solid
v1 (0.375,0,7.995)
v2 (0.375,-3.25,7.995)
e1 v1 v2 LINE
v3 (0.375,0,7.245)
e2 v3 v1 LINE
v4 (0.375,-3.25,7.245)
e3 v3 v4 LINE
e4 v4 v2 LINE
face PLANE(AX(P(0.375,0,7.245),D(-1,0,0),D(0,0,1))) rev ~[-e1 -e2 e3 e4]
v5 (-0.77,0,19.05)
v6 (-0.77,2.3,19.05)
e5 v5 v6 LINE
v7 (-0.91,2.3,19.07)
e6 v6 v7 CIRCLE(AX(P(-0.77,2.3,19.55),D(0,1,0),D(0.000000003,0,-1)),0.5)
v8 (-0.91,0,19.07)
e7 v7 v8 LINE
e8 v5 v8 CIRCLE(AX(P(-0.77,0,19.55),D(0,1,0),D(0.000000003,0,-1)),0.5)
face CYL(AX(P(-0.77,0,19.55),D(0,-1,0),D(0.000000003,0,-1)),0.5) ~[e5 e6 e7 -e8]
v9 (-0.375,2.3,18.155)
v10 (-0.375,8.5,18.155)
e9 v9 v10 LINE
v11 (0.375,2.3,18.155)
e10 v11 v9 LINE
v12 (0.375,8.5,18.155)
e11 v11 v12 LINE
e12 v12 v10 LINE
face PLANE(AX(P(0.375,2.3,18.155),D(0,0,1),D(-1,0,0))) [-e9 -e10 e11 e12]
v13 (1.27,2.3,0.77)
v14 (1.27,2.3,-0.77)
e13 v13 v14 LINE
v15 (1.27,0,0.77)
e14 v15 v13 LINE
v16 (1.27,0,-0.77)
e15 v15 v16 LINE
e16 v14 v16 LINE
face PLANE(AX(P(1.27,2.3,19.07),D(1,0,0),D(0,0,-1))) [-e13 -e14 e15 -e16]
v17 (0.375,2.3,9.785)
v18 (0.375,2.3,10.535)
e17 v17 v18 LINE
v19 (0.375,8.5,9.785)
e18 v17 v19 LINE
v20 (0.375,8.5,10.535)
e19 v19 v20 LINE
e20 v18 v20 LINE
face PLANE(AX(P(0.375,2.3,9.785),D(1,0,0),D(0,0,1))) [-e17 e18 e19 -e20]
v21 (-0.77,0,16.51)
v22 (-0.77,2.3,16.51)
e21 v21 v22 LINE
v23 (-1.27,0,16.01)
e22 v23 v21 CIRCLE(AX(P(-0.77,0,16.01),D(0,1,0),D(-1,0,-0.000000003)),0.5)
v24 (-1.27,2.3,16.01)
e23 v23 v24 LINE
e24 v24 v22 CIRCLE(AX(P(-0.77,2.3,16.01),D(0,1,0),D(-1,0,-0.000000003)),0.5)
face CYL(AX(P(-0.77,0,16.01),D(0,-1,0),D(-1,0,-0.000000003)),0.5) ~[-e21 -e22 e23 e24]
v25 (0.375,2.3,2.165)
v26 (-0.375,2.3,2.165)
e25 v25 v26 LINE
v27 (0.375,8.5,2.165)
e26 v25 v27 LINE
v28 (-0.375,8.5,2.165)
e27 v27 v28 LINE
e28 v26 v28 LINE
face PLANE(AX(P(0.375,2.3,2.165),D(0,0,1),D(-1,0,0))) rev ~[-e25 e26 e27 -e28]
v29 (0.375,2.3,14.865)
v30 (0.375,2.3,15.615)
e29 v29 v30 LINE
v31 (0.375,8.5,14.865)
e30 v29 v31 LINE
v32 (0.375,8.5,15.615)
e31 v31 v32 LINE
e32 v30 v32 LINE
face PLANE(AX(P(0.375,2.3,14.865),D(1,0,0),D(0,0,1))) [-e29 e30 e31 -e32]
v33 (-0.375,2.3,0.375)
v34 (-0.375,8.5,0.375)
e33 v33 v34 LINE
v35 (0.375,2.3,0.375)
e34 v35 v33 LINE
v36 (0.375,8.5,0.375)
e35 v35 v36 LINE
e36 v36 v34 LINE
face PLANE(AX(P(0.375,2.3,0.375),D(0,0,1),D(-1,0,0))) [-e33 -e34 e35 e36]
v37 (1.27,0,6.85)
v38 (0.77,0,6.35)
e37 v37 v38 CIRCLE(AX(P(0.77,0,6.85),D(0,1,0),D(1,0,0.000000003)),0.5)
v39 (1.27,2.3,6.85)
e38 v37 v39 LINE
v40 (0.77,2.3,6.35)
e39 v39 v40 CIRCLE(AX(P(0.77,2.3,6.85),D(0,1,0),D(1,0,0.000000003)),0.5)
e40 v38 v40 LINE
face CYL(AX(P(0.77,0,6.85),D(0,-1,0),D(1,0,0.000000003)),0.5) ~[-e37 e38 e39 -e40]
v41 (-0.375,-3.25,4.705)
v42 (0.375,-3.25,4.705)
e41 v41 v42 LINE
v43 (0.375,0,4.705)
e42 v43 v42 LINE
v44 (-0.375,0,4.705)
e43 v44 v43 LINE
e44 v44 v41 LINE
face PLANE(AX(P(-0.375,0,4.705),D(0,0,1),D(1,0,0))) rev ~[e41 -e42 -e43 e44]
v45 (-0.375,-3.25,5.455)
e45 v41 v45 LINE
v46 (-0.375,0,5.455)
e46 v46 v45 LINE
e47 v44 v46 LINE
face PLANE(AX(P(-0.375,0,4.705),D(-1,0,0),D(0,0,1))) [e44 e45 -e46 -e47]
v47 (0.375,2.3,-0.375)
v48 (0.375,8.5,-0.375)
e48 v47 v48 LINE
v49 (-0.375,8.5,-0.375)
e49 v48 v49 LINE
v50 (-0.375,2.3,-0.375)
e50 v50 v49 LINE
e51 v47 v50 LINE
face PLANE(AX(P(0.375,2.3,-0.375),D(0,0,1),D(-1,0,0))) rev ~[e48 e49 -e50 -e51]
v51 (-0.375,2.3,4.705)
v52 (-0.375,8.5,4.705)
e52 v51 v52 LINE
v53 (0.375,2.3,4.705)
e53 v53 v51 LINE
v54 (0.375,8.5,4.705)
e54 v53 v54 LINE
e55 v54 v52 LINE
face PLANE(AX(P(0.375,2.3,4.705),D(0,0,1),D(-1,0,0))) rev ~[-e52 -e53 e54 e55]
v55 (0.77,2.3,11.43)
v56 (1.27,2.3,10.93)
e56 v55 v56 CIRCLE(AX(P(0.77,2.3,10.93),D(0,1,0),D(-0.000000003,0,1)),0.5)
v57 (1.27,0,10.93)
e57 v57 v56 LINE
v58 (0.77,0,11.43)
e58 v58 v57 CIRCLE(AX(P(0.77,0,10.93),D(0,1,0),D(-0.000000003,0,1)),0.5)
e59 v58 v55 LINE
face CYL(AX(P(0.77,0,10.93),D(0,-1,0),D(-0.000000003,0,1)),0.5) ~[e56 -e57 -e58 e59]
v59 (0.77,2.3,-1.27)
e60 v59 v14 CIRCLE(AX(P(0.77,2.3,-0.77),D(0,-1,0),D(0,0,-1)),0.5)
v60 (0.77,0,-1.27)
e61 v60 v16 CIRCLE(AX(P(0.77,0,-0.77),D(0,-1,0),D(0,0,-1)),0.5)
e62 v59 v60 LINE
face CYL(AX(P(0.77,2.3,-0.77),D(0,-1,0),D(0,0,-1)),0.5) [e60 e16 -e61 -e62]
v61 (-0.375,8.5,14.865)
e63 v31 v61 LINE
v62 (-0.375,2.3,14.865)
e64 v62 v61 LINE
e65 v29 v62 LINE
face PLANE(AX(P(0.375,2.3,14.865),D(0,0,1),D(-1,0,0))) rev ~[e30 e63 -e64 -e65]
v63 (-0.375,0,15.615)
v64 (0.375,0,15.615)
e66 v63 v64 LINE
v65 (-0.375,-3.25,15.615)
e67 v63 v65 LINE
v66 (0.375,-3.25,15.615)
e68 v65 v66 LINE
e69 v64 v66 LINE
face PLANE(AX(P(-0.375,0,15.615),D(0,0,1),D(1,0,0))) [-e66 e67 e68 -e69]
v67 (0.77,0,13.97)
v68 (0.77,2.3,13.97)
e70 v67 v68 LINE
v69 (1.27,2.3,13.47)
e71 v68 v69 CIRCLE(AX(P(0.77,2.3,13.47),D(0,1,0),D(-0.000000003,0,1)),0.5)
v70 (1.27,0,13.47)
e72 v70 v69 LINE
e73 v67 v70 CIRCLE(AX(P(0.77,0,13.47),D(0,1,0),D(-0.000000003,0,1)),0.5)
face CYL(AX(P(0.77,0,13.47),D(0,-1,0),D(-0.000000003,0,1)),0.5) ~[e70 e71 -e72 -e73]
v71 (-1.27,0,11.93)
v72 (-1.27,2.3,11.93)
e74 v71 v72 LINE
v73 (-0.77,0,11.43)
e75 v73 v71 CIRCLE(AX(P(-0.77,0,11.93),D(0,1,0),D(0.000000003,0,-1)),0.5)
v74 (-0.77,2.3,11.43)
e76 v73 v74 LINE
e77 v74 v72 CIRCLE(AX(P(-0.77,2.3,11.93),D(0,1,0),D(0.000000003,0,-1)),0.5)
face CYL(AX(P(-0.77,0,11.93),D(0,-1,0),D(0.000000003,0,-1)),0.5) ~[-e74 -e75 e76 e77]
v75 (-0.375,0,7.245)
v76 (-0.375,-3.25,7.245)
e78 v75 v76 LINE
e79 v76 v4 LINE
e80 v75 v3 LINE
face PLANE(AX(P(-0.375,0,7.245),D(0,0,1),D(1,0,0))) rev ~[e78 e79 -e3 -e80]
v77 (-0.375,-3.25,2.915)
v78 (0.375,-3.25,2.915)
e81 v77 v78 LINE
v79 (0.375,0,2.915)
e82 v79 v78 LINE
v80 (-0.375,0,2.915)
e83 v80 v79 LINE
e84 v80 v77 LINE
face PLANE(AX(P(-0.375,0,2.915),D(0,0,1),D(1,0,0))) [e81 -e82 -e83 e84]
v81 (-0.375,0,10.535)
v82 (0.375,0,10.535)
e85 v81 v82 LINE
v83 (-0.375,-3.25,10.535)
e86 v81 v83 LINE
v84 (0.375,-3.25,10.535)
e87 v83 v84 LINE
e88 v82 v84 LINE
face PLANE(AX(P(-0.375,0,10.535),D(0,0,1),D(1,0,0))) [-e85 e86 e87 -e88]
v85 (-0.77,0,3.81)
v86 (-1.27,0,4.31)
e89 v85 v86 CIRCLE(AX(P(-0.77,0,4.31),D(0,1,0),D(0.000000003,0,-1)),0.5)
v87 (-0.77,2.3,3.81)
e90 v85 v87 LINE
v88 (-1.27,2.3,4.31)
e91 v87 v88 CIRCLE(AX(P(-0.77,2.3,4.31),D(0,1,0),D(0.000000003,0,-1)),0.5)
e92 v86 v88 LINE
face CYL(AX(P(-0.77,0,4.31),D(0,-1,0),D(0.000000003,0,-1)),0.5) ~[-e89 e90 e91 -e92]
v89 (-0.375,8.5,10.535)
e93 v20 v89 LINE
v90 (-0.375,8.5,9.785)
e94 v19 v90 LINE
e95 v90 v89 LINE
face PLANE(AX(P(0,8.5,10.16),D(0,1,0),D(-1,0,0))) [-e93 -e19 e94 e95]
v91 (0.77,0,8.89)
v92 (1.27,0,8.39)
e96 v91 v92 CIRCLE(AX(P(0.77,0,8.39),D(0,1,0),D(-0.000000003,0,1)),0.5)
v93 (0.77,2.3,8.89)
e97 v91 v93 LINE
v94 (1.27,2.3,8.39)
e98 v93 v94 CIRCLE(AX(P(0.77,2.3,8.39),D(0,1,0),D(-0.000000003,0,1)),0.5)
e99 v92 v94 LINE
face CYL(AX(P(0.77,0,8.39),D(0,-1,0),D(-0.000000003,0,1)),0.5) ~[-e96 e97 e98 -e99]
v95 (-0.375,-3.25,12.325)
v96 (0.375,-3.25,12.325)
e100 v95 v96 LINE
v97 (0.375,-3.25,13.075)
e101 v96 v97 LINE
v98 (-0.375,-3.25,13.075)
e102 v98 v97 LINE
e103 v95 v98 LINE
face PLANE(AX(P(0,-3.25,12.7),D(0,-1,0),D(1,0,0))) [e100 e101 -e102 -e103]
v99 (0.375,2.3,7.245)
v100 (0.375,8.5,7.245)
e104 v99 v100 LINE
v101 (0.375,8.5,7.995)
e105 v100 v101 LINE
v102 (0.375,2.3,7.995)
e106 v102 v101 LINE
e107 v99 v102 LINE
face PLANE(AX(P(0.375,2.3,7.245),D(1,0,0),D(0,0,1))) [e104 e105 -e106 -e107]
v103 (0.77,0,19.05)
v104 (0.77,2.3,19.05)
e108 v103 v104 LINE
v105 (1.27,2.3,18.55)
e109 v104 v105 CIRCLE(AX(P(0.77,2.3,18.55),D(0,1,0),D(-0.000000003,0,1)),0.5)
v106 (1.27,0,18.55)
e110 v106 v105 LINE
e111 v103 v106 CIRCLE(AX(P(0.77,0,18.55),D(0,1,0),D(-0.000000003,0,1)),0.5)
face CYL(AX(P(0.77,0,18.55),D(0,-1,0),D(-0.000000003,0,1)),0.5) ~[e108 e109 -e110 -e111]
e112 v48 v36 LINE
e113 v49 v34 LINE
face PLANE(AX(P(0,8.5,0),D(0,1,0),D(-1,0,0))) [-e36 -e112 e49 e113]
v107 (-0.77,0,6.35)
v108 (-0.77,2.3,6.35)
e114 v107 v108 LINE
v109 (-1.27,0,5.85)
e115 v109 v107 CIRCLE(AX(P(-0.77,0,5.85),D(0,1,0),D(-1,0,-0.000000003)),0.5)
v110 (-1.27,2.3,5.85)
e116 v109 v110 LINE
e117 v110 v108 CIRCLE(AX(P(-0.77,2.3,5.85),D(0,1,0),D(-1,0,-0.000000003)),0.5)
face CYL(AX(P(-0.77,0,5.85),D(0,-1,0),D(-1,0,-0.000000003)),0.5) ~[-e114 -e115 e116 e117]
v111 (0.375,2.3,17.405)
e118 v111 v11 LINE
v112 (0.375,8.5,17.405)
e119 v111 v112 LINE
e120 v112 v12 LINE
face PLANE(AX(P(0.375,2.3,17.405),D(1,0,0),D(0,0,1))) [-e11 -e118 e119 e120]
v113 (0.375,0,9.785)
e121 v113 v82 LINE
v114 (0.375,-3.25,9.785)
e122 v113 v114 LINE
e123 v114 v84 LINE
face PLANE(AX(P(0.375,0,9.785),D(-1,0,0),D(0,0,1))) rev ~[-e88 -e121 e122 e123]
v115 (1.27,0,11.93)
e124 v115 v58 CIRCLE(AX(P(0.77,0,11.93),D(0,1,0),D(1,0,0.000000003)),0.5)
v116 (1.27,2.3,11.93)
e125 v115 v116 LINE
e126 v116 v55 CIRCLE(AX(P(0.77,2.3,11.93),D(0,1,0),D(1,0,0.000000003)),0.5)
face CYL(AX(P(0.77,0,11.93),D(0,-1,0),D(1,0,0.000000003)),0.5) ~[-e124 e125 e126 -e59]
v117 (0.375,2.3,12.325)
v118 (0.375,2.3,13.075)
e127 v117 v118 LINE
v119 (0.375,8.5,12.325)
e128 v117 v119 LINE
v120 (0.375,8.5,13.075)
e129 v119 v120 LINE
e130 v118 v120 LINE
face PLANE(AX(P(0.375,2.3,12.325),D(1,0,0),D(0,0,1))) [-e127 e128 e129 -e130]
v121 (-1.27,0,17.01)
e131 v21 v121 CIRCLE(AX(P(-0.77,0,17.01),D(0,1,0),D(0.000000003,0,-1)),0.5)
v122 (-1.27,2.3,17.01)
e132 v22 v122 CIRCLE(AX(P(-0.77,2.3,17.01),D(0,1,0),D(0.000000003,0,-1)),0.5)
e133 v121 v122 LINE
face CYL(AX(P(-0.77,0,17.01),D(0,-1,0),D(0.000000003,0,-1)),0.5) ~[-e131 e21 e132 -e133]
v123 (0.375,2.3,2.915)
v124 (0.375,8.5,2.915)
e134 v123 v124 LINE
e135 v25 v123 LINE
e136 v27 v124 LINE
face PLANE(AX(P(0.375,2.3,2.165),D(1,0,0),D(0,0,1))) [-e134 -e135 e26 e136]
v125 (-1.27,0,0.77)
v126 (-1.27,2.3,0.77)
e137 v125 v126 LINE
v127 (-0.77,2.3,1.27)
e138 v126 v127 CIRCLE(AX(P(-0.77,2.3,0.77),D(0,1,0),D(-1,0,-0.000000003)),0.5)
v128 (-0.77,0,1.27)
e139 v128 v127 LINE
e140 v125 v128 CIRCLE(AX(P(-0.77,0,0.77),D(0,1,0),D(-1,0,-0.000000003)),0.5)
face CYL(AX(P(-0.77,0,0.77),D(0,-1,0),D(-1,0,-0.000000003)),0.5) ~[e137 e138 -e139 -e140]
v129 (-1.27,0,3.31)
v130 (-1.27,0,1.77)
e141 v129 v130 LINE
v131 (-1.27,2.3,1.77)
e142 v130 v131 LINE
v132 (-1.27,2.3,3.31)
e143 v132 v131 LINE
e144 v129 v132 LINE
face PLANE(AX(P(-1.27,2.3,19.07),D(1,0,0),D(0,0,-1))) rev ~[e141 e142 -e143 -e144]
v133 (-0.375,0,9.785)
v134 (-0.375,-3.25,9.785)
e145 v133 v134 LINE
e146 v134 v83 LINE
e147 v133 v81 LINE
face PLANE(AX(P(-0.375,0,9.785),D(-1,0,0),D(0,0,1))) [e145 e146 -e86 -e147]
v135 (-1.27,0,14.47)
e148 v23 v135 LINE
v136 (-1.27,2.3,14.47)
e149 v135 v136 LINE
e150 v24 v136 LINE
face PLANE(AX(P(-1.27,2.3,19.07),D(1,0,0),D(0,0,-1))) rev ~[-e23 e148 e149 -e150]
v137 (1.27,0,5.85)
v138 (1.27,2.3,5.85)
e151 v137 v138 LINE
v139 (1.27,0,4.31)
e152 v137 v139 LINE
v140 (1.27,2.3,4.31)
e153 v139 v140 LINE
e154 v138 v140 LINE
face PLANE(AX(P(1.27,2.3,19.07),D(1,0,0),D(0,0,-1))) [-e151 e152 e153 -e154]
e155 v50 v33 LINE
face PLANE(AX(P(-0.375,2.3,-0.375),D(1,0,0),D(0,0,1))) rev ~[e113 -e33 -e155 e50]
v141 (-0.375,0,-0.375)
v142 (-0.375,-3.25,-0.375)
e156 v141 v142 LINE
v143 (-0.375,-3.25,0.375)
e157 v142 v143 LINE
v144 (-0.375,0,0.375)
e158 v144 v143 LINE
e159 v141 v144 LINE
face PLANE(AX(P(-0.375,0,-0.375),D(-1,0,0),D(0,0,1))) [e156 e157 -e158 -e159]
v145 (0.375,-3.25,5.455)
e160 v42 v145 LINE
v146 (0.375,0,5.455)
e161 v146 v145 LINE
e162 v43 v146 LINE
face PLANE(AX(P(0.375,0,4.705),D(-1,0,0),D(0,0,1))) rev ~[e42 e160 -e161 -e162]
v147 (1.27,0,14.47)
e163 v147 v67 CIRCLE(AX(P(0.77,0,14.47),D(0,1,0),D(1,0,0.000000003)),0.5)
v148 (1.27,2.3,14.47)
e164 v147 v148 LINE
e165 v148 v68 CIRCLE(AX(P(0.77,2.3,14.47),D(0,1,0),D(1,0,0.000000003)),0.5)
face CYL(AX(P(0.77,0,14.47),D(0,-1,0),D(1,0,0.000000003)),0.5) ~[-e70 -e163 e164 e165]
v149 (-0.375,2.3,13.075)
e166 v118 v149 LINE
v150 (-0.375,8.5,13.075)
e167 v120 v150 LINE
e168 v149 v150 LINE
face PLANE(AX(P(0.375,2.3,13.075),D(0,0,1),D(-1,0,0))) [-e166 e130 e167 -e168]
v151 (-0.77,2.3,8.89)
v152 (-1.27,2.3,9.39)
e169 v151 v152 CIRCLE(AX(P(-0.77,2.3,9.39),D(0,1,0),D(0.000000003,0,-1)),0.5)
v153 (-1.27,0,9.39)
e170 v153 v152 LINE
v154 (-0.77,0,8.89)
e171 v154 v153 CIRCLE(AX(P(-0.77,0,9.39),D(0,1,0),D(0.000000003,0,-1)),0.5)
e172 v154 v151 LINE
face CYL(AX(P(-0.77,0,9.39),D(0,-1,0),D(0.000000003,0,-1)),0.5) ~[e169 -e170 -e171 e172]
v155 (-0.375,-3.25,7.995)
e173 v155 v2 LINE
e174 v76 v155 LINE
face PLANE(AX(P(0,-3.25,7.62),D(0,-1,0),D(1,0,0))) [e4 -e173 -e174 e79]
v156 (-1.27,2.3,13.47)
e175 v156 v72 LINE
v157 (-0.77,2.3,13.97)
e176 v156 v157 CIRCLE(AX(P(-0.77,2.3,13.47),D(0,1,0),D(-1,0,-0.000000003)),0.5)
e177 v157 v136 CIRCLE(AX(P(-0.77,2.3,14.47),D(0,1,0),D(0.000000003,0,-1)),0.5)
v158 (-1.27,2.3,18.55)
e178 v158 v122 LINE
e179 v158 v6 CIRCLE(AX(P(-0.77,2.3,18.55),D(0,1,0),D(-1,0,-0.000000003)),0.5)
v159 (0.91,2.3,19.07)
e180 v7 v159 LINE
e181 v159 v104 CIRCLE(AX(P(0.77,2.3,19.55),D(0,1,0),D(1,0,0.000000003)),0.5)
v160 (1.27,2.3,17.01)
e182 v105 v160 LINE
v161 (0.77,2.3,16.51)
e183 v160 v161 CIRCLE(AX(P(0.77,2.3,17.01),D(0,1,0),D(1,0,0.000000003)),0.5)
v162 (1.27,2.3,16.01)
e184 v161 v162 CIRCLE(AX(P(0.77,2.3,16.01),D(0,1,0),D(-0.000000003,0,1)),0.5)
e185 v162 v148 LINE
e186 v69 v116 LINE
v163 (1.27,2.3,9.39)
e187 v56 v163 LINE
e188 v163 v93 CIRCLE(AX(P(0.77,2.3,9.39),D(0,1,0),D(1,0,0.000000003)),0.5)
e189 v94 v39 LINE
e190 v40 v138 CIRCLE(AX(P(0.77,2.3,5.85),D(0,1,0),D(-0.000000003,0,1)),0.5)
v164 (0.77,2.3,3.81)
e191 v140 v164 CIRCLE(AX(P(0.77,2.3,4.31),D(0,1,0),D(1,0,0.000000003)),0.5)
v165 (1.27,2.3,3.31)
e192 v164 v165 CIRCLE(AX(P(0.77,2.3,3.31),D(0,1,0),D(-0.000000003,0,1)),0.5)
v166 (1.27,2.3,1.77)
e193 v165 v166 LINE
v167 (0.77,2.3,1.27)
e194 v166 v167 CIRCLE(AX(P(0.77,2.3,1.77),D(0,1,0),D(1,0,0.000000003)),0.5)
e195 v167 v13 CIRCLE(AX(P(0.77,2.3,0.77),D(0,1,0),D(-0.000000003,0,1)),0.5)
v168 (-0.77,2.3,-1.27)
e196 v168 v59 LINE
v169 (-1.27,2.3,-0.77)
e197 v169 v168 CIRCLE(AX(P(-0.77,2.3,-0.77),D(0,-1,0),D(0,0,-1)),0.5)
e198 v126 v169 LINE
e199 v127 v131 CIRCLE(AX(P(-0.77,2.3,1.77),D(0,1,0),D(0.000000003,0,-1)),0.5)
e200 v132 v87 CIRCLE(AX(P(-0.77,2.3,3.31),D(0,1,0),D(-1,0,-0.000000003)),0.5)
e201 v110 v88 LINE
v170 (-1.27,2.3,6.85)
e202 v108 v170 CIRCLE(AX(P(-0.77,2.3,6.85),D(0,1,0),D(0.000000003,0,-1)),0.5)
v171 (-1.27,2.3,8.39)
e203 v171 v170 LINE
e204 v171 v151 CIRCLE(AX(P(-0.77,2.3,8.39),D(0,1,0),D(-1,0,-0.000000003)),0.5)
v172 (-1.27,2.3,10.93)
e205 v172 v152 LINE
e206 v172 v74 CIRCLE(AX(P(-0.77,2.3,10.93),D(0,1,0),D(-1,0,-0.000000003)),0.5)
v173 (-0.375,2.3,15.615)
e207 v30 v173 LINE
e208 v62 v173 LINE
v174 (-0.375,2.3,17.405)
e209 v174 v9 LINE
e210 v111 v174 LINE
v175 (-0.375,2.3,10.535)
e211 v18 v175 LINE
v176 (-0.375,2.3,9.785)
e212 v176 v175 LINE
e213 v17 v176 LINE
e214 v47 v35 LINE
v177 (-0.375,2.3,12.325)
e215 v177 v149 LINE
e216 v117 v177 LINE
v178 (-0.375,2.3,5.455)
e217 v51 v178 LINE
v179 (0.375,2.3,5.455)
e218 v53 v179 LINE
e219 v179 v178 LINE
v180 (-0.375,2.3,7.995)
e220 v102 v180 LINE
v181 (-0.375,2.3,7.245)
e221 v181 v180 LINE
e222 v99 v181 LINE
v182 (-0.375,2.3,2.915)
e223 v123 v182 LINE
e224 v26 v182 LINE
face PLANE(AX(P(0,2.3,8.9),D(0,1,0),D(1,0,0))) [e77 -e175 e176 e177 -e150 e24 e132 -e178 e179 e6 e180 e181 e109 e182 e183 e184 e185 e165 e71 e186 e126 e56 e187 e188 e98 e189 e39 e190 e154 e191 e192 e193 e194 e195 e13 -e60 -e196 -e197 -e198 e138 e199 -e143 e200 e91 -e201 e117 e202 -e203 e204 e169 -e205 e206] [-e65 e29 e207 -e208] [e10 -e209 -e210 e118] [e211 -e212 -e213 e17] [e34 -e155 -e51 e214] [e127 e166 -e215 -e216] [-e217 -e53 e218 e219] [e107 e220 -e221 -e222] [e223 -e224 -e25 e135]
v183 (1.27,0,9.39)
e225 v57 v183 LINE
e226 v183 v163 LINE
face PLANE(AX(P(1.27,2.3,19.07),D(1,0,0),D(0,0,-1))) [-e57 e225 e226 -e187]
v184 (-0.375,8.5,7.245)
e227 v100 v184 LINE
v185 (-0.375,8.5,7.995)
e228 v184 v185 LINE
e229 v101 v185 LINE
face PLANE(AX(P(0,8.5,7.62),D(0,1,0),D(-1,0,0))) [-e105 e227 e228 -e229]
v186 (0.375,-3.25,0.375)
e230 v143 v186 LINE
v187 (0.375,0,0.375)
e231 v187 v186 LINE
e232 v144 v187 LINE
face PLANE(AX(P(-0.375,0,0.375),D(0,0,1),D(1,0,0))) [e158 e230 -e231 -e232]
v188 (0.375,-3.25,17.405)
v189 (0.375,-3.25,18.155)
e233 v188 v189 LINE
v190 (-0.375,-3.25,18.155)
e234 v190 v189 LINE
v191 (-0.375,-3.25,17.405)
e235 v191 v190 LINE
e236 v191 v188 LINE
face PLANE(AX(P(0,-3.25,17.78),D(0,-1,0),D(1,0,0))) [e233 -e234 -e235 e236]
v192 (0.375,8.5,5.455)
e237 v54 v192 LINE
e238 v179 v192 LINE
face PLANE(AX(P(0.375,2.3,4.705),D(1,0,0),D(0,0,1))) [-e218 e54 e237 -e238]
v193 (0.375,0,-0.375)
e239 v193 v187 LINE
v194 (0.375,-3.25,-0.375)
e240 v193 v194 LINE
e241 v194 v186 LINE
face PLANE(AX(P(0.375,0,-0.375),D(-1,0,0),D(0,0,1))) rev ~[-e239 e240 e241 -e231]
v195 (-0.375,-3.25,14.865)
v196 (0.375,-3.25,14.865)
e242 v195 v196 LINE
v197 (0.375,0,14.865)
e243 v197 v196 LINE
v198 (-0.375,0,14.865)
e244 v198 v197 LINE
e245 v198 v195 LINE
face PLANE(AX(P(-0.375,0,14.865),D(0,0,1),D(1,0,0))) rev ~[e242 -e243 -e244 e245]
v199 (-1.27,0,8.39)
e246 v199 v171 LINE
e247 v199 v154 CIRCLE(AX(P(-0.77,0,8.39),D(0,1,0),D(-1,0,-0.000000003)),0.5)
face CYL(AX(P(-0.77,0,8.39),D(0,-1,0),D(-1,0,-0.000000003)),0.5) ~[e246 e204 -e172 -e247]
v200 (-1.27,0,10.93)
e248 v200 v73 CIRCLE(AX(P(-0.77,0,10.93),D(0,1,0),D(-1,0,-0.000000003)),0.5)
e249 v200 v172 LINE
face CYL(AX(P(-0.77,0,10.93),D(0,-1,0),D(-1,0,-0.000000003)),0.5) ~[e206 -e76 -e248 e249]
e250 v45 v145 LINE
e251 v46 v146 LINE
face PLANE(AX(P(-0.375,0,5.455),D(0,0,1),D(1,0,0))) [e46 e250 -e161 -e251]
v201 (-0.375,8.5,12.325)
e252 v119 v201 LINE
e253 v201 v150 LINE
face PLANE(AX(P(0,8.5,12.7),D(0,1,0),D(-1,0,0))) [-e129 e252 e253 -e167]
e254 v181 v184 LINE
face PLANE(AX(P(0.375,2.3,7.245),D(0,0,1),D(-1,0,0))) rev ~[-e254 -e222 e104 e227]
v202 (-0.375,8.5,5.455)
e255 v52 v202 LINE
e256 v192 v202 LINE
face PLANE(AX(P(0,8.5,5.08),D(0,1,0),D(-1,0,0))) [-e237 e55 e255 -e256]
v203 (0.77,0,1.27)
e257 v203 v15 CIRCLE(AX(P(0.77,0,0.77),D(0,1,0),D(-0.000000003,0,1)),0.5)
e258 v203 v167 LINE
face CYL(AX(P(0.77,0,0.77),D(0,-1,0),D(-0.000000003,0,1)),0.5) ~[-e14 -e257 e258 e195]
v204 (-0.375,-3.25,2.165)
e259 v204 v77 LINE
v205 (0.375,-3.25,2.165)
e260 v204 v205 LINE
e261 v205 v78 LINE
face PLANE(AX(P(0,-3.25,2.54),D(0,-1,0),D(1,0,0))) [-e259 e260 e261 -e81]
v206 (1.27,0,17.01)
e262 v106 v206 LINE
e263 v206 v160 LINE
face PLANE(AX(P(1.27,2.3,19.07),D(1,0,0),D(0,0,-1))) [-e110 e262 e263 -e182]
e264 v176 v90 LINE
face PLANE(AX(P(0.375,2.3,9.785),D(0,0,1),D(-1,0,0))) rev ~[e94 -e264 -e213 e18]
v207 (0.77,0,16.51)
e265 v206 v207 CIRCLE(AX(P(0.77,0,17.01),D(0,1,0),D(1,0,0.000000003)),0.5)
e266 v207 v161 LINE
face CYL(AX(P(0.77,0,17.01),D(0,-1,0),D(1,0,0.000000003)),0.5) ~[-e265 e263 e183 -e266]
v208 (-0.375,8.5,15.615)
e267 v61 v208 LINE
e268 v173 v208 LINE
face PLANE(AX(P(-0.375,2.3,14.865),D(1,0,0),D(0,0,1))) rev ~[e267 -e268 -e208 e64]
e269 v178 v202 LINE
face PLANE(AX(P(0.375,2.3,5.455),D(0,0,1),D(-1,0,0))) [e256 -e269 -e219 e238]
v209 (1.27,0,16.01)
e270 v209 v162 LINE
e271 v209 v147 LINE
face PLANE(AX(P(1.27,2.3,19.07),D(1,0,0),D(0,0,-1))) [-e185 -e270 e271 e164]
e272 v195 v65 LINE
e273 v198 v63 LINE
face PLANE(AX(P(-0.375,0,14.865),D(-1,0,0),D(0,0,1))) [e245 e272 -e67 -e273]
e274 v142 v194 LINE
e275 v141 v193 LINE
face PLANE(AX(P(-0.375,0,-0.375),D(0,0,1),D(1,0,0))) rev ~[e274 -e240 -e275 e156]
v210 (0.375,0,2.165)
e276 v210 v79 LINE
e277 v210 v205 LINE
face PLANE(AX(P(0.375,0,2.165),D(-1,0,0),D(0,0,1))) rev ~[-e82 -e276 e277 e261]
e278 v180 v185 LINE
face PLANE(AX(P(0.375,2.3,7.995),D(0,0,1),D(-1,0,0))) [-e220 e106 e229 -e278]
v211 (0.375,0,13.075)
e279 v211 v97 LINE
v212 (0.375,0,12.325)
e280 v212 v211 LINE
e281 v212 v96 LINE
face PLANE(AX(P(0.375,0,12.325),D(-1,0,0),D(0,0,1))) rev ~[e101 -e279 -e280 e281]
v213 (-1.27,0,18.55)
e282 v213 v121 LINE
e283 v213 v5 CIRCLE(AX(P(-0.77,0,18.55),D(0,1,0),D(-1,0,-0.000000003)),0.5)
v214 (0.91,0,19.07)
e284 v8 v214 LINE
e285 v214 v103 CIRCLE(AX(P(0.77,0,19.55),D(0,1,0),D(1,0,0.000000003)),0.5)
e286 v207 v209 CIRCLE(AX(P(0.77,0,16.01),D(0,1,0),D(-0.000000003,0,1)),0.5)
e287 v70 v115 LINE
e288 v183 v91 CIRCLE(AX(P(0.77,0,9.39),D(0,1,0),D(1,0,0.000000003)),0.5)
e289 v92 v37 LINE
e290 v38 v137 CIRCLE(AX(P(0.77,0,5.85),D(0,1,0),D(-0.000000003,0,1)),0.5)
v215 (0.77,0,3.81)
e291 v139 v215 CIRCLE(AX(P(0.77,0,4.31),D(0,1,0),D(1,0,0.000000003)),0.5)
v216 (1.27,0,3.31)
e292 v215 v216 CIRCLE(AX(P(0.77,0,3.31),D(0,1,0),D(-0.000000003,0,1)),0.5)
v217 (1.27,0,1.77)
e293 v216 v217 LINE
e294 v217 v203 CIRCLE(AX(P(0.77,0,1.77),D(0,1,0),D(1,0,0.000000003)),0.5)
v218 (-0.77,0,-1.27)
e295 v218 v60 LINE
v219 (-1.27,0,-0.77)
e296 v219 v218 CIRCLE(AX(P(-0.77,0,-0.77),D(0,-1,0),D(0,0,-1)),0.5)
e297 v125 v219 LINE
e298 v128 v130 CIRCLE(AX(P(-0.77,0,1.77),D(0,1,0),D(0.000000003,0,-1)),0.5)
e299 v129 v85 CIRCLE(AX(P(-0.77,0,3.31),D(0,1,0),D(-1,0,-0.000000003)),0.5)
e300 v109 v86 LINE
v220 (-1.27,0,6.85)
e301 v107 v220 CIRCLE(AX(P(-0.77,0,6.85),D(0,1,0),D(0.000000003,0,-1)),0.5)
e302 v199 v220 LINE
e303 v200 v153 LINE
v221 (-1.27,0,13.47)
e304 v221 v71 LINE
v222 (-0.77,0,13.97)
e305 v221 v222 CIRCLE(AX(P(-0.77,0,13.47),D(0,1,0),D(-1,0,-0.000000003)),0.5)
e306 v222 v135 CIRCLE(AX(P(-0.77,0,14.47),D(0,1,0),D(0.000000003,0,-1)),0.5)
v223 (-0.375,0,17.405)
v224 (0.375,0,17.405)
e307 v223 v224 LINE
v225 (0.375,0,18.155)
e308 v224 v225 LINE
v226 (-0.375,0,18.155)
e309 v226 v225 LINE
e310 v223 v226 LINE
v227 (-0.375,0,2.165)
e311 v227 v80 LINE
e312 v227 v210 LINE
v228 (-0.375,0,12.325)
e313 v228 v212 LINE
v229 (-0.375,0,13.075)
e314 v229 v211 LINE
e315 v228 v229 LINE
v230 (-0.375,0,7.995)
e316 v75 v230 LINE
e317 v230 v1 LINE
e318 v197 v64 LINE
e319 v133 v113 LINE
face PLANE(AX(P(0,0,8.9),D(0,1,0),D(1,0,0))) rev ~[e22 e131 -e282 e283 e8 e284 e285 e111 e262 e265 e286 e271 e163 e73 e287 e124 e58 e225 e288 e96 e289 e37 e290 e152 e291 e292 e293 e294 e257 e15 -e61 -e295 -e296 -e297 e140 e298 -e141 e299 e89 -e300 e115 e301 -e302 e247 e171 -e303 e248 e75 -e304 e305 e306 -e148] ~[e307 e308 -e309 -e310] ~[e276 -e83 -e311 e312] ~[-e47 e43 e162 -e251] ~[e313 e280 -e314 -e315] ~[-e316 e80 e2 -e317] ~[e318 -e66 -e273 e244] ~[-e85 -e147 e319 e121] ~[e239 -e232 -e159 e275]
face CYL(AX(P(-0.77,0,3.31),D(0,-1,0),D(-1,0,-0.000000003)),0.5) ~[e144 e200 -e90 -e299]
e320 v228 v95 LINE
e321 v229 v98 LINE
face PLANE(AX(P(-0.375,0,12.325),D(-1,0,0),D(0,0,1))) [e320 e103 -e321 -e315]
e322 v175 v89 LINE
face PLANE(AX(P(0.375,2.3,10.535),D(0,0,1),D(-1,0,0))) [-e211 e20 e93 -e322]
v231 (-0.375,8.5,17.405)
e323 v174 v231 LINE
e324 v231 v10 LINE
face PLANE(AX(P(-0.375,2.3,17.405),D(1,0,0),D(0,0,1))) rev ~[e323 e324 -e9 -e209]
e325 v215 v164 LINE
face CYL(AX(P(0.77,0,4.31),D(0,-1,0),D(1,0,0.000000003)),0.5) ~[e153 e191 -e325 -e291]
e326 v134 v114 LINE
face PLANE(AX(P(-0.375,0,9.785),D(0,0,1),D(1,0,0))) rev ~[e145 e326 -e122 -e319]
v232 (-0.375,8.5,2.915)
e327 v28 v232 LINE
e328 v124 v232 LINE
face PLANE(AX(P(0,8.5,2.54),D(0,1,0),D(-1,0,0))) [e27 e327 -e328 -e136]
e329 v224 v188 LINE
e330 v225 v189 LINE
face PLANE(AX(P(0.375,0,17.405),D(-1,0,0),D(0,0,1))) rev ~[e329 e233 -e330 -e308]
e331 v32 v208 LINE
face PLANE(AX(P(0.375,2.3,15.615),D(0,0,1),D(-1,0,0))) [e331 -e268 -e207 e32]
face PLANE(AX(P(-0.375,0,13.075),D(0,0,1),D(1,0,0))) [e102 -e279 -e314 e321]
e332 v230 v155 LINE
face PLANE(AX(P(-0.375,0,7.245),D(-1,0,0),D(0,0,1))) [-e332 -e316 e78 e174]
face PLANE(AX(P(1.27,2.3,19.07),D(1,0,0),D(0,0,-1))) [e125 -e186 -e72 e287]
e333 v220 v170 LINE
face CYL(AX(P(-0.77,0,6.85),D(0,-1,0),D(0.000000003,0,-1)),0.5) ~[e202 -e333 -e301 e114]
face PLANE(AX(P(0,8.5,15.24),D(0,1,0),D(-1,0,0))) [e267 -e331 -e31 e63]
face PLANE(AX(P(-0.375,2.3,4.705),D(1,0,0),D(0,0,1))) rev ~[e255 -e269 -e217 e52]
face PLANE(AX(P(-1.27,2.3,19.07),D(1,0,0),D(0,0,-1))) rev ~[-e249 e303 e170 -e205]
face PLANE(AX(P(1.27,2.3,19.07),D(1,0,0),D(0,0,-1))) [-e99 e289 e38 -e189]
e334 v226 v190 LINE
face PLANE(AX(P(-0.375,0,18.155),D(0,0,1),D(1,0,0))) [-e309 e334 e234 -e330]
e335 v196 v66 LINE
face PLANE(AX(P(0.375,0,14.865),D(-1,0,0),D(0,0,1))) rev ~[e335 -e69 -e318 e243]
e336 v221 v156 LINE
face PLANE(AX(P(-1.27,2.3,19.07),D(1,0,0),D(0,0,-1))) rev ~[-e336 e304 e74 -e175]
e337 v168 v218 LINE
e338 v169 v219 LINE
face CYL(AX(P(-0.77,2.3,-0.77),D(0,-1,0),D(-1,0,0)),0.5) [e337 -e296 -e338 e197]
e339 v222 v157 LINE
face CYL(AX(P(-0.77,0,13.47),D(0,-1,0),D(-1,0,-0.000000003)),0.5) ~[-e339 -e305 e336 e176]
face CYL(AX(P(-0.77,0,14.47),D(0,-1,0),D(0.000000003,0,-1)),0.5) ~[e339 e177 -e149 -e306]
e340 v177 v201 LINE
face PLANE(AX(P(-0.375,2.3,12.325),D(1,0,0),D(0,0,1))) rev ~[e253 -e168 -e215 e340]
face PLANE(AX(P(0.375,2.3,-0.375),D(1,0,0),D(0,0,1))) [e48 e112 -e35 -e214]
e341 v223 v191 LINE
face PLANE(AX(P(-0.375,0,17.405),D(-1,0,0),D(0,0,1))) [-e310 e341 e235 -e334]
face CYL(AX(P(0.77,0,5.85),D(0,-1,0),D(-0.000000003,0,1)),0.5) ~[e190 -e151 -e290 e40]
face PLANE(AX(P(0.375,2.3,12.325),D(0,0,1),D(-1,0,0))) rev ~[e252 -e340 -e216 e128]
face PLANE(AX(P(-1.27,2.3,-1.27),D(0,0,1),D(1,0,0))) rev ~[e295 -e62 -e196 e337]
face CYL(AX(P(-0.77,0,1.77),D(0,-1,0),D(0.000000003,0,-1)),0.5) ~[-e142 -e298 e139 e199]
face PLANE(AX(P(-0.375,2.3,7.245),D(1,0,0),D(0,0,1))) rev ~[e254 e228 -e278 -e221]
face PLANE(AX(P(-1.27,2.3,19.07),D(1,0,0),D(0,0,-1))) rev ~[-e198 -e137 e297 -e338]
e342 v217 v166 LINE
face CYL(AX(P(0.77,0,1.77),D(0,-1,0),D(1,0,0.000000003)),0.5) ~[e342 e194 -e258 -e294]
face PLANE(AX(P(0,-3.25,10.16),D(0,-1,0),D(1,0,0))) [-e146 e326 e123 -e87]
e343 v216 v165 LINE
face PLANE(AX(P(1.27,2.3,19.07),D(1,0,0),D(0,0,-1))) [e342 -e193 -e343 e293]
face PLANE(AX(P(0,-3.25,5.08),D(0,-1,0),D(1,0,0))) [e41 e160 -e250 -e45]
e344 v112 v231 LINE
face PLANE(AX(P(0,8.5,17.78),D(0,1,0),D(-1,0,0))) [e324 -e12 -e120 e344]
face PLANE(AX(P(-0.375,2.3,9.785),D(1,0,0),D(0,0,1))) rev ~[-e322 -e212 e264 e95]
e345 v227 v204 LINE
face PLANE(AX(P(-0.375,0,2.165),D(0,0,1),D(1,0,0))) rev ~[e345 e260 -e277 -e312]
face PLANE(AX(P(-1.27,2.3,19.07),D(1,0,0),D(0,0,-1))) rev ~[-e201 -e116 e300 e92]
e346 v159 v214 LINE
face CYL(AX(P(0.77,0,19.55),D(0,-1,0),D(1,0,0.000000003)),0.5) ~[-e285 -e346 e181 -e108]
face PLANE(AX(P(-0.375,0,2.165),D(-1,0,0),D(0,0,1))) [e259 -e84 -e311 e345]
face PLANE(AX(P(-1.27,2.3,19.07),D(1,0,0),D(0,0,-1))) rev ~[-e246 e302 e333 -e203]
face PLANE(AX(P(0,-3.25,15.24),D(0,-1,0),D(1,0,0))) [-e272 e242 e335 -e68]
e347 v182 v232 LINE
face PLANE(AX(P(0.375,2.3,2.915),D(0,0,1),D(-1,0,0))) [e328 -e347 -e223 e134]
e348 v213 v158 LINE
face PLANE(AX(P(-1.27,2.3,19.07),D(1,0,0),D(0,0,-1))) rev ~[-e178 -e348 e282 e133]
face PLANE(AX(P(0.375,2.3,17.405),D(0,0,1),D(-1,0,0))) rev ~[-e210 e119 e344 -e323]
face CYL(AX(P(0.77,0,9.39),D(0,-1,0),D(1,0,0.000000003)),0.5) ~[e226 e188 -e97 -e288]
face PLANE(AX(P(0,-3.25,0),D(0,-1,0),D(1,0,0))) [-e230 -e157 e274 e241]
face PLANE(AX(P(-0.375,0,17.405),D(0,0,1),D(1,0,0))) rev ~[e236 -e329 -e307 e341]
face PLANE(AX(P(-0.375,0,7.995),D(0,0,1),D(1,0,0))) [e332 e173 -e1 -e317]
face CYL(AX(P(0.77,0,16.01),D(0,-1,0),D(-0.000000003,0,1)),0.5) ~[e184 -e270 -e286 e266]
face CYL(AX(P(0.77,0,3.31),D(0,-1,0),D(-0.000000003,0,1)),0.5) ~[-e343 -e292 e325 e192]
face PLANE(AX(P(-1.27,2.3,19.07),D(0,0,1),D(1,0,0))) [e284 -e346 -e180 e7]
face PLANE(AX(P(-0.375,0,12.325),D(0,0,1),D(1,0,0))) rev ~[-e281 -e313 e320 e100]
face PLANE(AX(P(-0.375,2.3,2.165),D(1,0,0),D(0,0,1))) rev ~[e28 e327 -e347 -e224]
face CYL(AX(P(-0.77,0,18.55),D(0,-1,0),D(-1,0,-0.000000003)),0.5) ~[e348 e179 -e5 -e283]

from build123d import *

# Parameters (mm, degrees)
CROQUIS1_W               = 2.54
CROQUIS1_H               = 20.34
SALIENTE_EXTRUIR1_DEPTH  = 2.3
CORTAR_EXTRUIR4_DEPTH    = 2.3
CORTAR_EXTRUIR5_DEPTH    = 2.3
CORTAR_EXTRUIR6_DEPTH    = 2.3
CORTAR_EXTRUIR7_DEPTH    = 2.3
CORTAR_EXTRUIR8_DEPTH    = 2.3
CORTAR_EXTRUIR9_DEPTH    = 2.3
CORTAR_EXTRUIR10_DEPTH   = 2.3
CORTAR_EXTRUIR11_DEPTH   = 2.3
CORTAR_EXTRUIR12_DEPTH   = 2.3
CORTAR_EXTRUIR13_DEPTH   = 2.3
CORTAR_EXTRUIR14_DEPTH   = 2.3
CORTAR_EXTRUIR15_DEPTH   = 2.3
CORTAR_EXTRUIR16_DEPTH   = 2.3
CORTAR_EXTRUIR17_DEPTH   = 2.3
CORTAR_EXTRUIR18_DEPTH   = 2.3
CORTAR_EXTRUIR19_DEPTH   = 2.3
CROQUIS24_W              = 0.75
CROQUIS24_H              = 0.75
SALIENTE_EXTRUIR2_DEPTH  = 3.25
CROQUIS25_W              = 0.75
CROQUIS25_H              = 0.75
SALIENTE_EXTRUIR3_DEPTH  = 6.2
CROQUIS26_W              = 0.75
CROQUIS26_H              = 0.75
SALIENTE_EXTRUIR4_DEPTH  = 6.2
CROQUIS27_W              = 0.75
CROQUIS27_H              = 0.75
SALIENTE_EXTRUIR5_DEPTH  = 6.2
CROQUIS28_W              = 0.75
CROQUIS28_H              = 0.75
SALIENTE_EXTRUIR6_DEPTH  = 6.2
CROQUIS29_W              = 0.75
CROQUIS29_H              = 0.75
SALIENTE_EXTRUIR7_DEPTH  = 6.2
CROQUIS30_W              = 0.75
CROQUIS30_H              = 0.75
SALIENTE_EXTRUIR8_DEPTH  = 6.2
CROQUIS31_W              = 0.75
CROQUIS31_H              = 0.75
SALIENTE_EXTRUIR9_DEPTH  = 6.2
CROQUIS32_W              = 0.75
CROQUIS32_H              = 0.75
SALIENTE_EXTRUIR10_DEPTH = 6.2
CROQUIS37_W              = 0.75
CROQUIS37_H              = 0.75
SALIENTE_EXTRUIR15_DEPTH = 3.25
CROQUIS38_W              = 0.75
CROQUIS38_H              = 0.75
SALIENTE_EXTRUIR16_DEPTH = 3.25
CROQUIS39_W              = 0.75
CROQUIS39_H              = 0.75
SALIENTE_EXTRUIR17_DEPTH = 3.25
CROQUIS40_W              = 0.75
CROQUIS40_H              = 0.75
SALIENTE_EXTRUIR18_DEPTH = 3.25
CROQUIS41_W              = 0.75
CROQUIS41_H              = 0.75
SALIENTE_EXTRUIR19_DEPTH = 3.25
CROQUIS42_W              = 0.75
CROQUIS42_H              = 0.75
SALIENTE_EXTRUIR20_DEPTH = 3.25
CROQUIS43_W              = 0.75
CROQUIS43_H              = 0.75
SALIENTE_EXTRUIR21_DEPTH = 3.25
REDONDEO2_R              = 0.5


with BuildPart() as part:
    # Croquis1 → Saliente-Extruir1 (new body)
    with BuildSketch(Plane(origin=(0, 2.3, 0), x_dir=(1, 0, 0), z_dir=(0, 1, 0))):
        with Locations((0, -8.9)):
            Rectangle(CROQUIS1_W, CROQUIS1_H)
    extrude(amount=-SALIENTE_EXTRUIR1_DEPTH)

    # Croquis5 → Cortar-Extruir4 (cut)
    with BuildSketch(Plane.XZ):
        with BuildLine():
            Line((1.27, 18.55), (1.27, 19.55))
            ThreePointArc((1.27, 19.55), (1.123553391, 19.196446609), (0.77, 19.05))
            ThreePointArc((0.77, 19.05), (1.123553391, 18.903553391), (1.27, 18.55))
        make_face()
    extrude(amount=-CORTAR_EXTRUIR4_DEPTH, mode=Mode.SUBTRACT)

    # Croquis6 → Cortar-Extruir5 (cut)
    with BuildSketch(Plane.XZ):
        with BuildLine():
            Line((1.27, 16.01), (1.27, 17.01))
            ThreePointArc((1.27, 17.01), (1.123553391, 16.656446609), (0.77, 16.51))
            ThreePointArc((0.77, 16.51), (1.123553391, 16.363553391), (1.27, 16.01))
        make_face()
    extrude(amount=-CORTAR_EXTRUIR5_DEPTH, mode=Mode.SUBTRACT)

    # Croquis7 → Cortar-Extruir6 (cut)
    with BuildSketch(Plane.XZ):
        with BuildLine():
            Line((1.27, 13.47), (1.27, 14.47))
            ThreePointArc((1.27, 14.47), (1.123553391, 14.116446609), (0.77, 13.97))
            ThreePointArc((0.77, 13.97), (1.123553391, 13.823553391), (1.27, 13.47))
        make_face()
    extrude(amount=-CORTAR_EXTRUIR6_DEPTH, mode=Mode.SUBTRACT)

    # Croquis8 → Cortar-Extruir7 (cut)
    with BuildSketch(Plane.XZ):
        with BuildLine():
            Line((1.27, 10.93), (1.27, 11.93))
            ThreePointArc((1.27, 11.93), (1.123553391, 11.576446609), (0.77, 11.43))
            ThreePointArc((0.77, 11.43), (1.123553391, 11.283553391), (1.27, 10.93))
        make_face()
    extrude(amount=-CORTAR_EXTRUIR7_DEPTH, mode=Mode.SUBTRACT)

    # Croquis9 → Cortar-Extruir8 (cut)
    with BuildSketch(Plane.XZ):
        with BuildLine():
            Line((1.27, 8.39), (1.27, 9.39))
            ThreePointArc((1.27, 9.39), (1.123553391, 9.036446609), (0.77, 8.89))
            ThreePointArc((0.77, 8.89), (1.123553391, 8.743553391), (1.27, 8.39))
        make_face()
    extrude(amount=-CORTAR_EXTRUIR8_DEPTH, mode=Mode.SUBTRACT)

    # Croquis10 → Cortar-Extruir9 (cut)
    with BuildSketch(Plane.XZ):
        with BuildLine():
            Line((1.27, 5.85), (1.27, 6.85))
            ThreePointArc((1.27, 6.85), (1.123553391, 6.496446609), (0.77, 6.35))
            ThreePointArc((0.77, 6.35), (1.123553391, 6.203553391), (1.27, 5.85))
        make_face()
    extrude(amount=-CORTAR_EXTRUIR9_DEPTH, mode=Mode.SUBTRACT)

    # Croquis11 → Cortar-Extruir10 (cut)
    with BuildSketch(Plane.XZ):
        with BuildLine():
            Line((1.27, 3.31), (1.27, 4.31))
            ThreePointArc((1.27, 4.31), (1.123553391, 3.956446609), (0.77, 3.81))
            ThreePointArc((0.77, 3.81), (1.123553391, 3.663553391), (1.27, 3.31))
        make_face()
    extrude(amount=-CORTAR_EXTRUIR10_DEPTH, mode=Mode.SUBTRACT)

    # Croquis12 → Cortar-Extruir11 (cut)
    with BuildSketch(Plane.XZ):
        with BuildLine():
            Line((1.27, 0.77), (1.27, 1.77))
            ThreePointArc((1.27, 1.77), (1.123553391, 1.416446609), (0.77, 1.27))
            ThreePointArc((0.77, 1.27), (1.123553391, 1.123553391), (1.27, 0.77))
        make_face()
    extrude(amount=-CORTAR_EXTRUIR11_DEPTH, mode=Mode.SUBTRACT)

    # Croquis13 → Cortar-Extruir12 (cut)
    with BuildSketch(Plane.XZ):
        with BuildLine():
            Line((-1.27, 1.77), (-1.27, 0.77))
            ThreePointArc((-1.27, 0.77), (-1.123553391, 1.123553391), (-0.77, 1.27))
            ThreePointArc((-0.77, 1.27), (-1.123553391, 1.416446609), (-1.27, 1.77))
        make_face()
    extrude(amount=-CORTAR_EXTRUIR12_DEPTH, mode=Mode.SUBTRACT)

    # Croquis14 → Cortar-Extruir13 (cut)
    with BuildSketch(Plane.XZ):
        with BuildLine():
            Line((-1.27, 4.31), (-1.27, 3.31))
            ThreePointArc((-1.27, 3.31), (-1.123553391, 3.663553391), (-0.77, 3.81))
            ThreePointArc((-0.77, 3.81), (-1.123553391, 3.956446609), (-1.27, 4.31))
        make_face()
    extrude(amount=-CORTAR_EXTRUIR13_DEPTH, mode=Mode.SUBTRACT)

    # Croquis15 → Cortar-Extruir14 (cut)
    with BuildSketch(Plane.XZ):
        with BuildLine():
            Line((-1.27, 6.85), (-1.27, 5.85))
            ThreePointArc((-1.27, 5.85), (-1.123553391, 6.203553391), (-0.77, 6.35))
            ThreePointArc((-0.77, 6.35), (-1.123553391, 6.496446609), (-1.27, 6.85))
        make_face()
    extrude(amount=-CORTAR_EXTRUIR14_DEPTH, mode=Mode.SUBTRACT)

    # Croquis16 → Cortar-Extruir15 (cut)
    with BuildSketch(Plane.XZ):
        with BuildLine():
            Line((-1.27, 9.39), (-1.27, 8.39))
            ThreePointArc((-1.27, 8.39), (-1.123553391, 8.743553391), (-0.77, 8.89))
            ThreePointArc((-0.77, 8.89), (-1.123553391, 9.036446609), (-1.27, 9.39))
        make_face()
    extrude(amount=-CORTAR_EXTRUIR15_DEPTH, mode=Mode.SUBTRACT)

    # Croquis17 → Cortar-Extruir16 (cut)
    with BuildSketch(Plane.XZ):
        with BuildLine():
            Line((-1.27, 11.93), (-1.27, 10.93))
            ThreePointArc((-1.27, 10.93), (-1.123553391, 11.283553391), (-0.77, 11.43))
            ThreePointArc((-0.77, 11.43), (-1.123553391, 11.576446609), (-1.27, 11.93))
        make_face()
    extrude(amount=-CORTAR_EXTRUIR16_DEPTH, mode=Mode.SUBTRACT)

    # Croquis18 → Cortar-Extruir17 (cut)
    with BuildSketch(Plane.XZ):
        with BuildLine():
            Line((-1.27, 14.47), (-1.27, 13.47))
            ThreePointArc((-1.27, 13.47), (-1.123553391, 13.823553391), (-0.77, 13.97))
            ThreePointArc((-0.77, 13.97), (-1.123553391, 14.116446609), (-1.27, 14.47))
        make_face()
    extrude(amount=-CORTAR_EXTRUIR17_DEPTH, mode=Mode.SUBTRACT)

    # Croquis19 → Cortar-Extruir18 (cut)
    with BuildSketch(Plane.XZ):
        with BuildLine():
            Line((-1.27, 17.01), (-1.27, 16.01))
            ThreePointArc((-1.27, 16.01), (-1.123553391, 16.363553391), (-0.77, 16.51))
            ThreePointArc((-0.77, 16.51), (-1.123553391, 16.656446609), (-1.27, 17.01))
        make_face()
    extrude(amount=-CORTAR_EXTRUIR18_DEPTH, mode=Mode.SUBTRACT)

    # Croquis20 → Cortar-Extruir19 (cut)
    with BuildSketch(Plane.XZ):
        with BuildLine():
            Line((-1.27, 19.55), (-1.27, 18.55))
            ThreePointArc((-1.27, 18.55), (-1.123553391, 18.903553391), (-0.77, 19.05))
            ThreePointArc((-0.77, 19.05), (-1.123553391, 19.196446609), (-1.27, 19.55))
        make_face()
    extrude(amount=-CORTAR_EXTRUIR19_DEPTH, mode=Mode.SUBTRACT)

    # Croquis24 → Saliente-Extruir2 (add)
    with BuildSketch(Plane.XZ):
        Rectangle(CROQUIS24_W, CROQUIS24_H)
    extrude(amount=SALIENTE_EXTRUIR2_DEPTH)

    # Croquis25 → Saliente-Extruir3 (add)
    with BuildSketch(Plane(origin=(0, 2.3, 0), x_dir=(-1, 0, 0), z_dir=(0, 1, 0))):
        Rectangle(CROQUIS25_W, CROQUIS25_H)
    extrude(amount=SALIENTE_EXTRUIR3_DEPTH)

    # Croquis26 → Saliente-Extruir4 (add)
    with BuildSketch(Plane(origin=(0, 2.3, 0), x_dir=(-1, 0, 0), z_dir=(0, 1, 0))):
        with Locations((0, 2.54)):
            Rectangle(CROQUIS26_W, CROQUIS26_H)
    extrude(amount=SALIENTE_EXTRUIR4_DEPTH)

    # Croquis27 → Saliente-Extruir5 (add)
    with BuildSketch(Plane(origin=(0, 2.3, 0), x_dir=(-1, 0, 0), z_dir=(0, 1, 0))):
        with Locations((0, 5.08)):
            Rectangle(CROQUIS27_W, CROQUIS27_H)
    extrude(amount=SALIENTE_EXTRUIR5_DEPTH)

    # Croquis28 → Saliente-Extruir6 (add)
    with BuildSketch(Plane(origin=(0, 2.3, 0), x_dir=(-1, 0, 0), z_dir=(0, 1, 0))):
        with Locations((0, 7.62)):
            Rectangle(CROQUIS28_W, CROQUIS28_H)
    extrude(amount=SALIENTE_EXTRUIR6_DEPTH)

    # Croquis29 → Saliente-Extruir7 (add)
    with BuildSketch(Plane(origin=(0, 2.3, 0), x_dir=(-1, 0, 0), z_dir=(0, 1, 0))):
        with Locations((0, 10.16)):
            Rectangle(CROQUIS29_W, CROQUIS29_H)
    extrude(amount=SALIENTE_EXTRUIR7_DEPTH)

    # Croquis30 → Saliente-Extruir8 (add)
    with BuildSketch(Plane(origin=(0, 2.3, 0), x_dir=(-1, 0, 0), z_dir=(0, 1, 0))):
        with Locations((0, 12.7)):
            Rectangle(CROQUIS30_W, CROQUIS30_H)
    extrude(amount=SALIENTE_EXTRUIR8_DEPTH)

    # Croquis31 → Saliente-Extruir9 (add)
    with BuildSketch(Plane(origin=(0, 2.3, 0), x_dir=(-1, 0, 0), z_dir=(0, 1, 0))):
        with Locations((0, 15.24)):
            Rectangle(CROQUIS31_W, CROQUIS31_H)
    extrude(amount=SALIENTE_EXTRUIR9_DEPTH)

    # Croquis32 → Saliente-Extruir10 (add)
    with BuildSketch(Plane(origin=(0, 2.3, 0), x_dir=(-1, 0, 0), z_dir=(0, 1, 0))):
        with Locations((0, 17.78)):
            Rectangle(CROQUIS32_W, CROQUIS32_H)
    extrude(amount=SALIENTE_EXTRUIR10_DEPTH)

    # Croquis37 → Saliente-Extruir15 (add)
    with BuildSketch(Plane.XZ):
        with Locations((0, 2.54)):
            Rectangle(CROQUIS37_W, CROQUIS37_H)
    extrude(amount=SALIENTE_EXTRUIR15_DEPTH)

    # Croquis38 → Saliente-Extruir16 (add)
    with BuildSketch(Plane.XZ):
        with Locations((0, 5.08)):
            Rectangle(CROQUIS38_W, CROQUIS38_H)
    extrude(amount=SALIENTE_EXTRUIR16_DEPTH)

    # Croquis39 → Saliente-Extruir17 (add)
    with BuildSketch(Plane.XZ):
        with Locations((0, 7.62)):
            Rectangle(CROQUIS39_W, CROQUIS39_H)
    extrude(amount=SALIENTE_EXTRUIR17_DEPTH)

    # Croquis40 → Saliente-Extruir18 (add)
    with BuildSketch(Plane.XZ):
        with Locations((0, 10.16)):
            Rectangle(CROQUIS40_W, CROQUIS40_H)
    extrude(amount=SALIENTE_EXTRUIR18_DEPTH)

    # Croquis41 → Saliente-Extruir19 (add)
    with BuildSketch(Plane.XZ):
        with Locations((0, 12.7)):
            Rectangle(CROQUIS41_W, CROQUIS41_H)
    extrude(amount=SALIENTE_EXTRUIR19_DEPTH)

    # Croquis42 → Saliente-Extruir20 (add)
    with BuildSketch(Plane.XZ):
        with Locations((0, 15.24)):
            Rectangle(CROQUIS42_W, CROQUIS42_H)
    extrude(amount=SALIENTE_EXTRUIR20_DEPTH)

    # Croquis43 → Saliente-Extruir21 (add)
    with BuildSketch(Plane.XZ):
        with Locations((0, 17.78)):
            Rectangle(CROQUIS43_W, CROQUIS43_H)
    extrude(amount=SALIENTE_EXTRUIR21_DEPTH)

    # Redondeo2
    redondeo2_edges = [part.edges().sort_by_distance(p)[0] for p in [
        (-1.27, 1.15, -1.27),
        (1.27, 1.15, -1.27),
    ]]
    fillet(redondeo2_edges, radius=REDONDEO2_R)


solid = part.part
